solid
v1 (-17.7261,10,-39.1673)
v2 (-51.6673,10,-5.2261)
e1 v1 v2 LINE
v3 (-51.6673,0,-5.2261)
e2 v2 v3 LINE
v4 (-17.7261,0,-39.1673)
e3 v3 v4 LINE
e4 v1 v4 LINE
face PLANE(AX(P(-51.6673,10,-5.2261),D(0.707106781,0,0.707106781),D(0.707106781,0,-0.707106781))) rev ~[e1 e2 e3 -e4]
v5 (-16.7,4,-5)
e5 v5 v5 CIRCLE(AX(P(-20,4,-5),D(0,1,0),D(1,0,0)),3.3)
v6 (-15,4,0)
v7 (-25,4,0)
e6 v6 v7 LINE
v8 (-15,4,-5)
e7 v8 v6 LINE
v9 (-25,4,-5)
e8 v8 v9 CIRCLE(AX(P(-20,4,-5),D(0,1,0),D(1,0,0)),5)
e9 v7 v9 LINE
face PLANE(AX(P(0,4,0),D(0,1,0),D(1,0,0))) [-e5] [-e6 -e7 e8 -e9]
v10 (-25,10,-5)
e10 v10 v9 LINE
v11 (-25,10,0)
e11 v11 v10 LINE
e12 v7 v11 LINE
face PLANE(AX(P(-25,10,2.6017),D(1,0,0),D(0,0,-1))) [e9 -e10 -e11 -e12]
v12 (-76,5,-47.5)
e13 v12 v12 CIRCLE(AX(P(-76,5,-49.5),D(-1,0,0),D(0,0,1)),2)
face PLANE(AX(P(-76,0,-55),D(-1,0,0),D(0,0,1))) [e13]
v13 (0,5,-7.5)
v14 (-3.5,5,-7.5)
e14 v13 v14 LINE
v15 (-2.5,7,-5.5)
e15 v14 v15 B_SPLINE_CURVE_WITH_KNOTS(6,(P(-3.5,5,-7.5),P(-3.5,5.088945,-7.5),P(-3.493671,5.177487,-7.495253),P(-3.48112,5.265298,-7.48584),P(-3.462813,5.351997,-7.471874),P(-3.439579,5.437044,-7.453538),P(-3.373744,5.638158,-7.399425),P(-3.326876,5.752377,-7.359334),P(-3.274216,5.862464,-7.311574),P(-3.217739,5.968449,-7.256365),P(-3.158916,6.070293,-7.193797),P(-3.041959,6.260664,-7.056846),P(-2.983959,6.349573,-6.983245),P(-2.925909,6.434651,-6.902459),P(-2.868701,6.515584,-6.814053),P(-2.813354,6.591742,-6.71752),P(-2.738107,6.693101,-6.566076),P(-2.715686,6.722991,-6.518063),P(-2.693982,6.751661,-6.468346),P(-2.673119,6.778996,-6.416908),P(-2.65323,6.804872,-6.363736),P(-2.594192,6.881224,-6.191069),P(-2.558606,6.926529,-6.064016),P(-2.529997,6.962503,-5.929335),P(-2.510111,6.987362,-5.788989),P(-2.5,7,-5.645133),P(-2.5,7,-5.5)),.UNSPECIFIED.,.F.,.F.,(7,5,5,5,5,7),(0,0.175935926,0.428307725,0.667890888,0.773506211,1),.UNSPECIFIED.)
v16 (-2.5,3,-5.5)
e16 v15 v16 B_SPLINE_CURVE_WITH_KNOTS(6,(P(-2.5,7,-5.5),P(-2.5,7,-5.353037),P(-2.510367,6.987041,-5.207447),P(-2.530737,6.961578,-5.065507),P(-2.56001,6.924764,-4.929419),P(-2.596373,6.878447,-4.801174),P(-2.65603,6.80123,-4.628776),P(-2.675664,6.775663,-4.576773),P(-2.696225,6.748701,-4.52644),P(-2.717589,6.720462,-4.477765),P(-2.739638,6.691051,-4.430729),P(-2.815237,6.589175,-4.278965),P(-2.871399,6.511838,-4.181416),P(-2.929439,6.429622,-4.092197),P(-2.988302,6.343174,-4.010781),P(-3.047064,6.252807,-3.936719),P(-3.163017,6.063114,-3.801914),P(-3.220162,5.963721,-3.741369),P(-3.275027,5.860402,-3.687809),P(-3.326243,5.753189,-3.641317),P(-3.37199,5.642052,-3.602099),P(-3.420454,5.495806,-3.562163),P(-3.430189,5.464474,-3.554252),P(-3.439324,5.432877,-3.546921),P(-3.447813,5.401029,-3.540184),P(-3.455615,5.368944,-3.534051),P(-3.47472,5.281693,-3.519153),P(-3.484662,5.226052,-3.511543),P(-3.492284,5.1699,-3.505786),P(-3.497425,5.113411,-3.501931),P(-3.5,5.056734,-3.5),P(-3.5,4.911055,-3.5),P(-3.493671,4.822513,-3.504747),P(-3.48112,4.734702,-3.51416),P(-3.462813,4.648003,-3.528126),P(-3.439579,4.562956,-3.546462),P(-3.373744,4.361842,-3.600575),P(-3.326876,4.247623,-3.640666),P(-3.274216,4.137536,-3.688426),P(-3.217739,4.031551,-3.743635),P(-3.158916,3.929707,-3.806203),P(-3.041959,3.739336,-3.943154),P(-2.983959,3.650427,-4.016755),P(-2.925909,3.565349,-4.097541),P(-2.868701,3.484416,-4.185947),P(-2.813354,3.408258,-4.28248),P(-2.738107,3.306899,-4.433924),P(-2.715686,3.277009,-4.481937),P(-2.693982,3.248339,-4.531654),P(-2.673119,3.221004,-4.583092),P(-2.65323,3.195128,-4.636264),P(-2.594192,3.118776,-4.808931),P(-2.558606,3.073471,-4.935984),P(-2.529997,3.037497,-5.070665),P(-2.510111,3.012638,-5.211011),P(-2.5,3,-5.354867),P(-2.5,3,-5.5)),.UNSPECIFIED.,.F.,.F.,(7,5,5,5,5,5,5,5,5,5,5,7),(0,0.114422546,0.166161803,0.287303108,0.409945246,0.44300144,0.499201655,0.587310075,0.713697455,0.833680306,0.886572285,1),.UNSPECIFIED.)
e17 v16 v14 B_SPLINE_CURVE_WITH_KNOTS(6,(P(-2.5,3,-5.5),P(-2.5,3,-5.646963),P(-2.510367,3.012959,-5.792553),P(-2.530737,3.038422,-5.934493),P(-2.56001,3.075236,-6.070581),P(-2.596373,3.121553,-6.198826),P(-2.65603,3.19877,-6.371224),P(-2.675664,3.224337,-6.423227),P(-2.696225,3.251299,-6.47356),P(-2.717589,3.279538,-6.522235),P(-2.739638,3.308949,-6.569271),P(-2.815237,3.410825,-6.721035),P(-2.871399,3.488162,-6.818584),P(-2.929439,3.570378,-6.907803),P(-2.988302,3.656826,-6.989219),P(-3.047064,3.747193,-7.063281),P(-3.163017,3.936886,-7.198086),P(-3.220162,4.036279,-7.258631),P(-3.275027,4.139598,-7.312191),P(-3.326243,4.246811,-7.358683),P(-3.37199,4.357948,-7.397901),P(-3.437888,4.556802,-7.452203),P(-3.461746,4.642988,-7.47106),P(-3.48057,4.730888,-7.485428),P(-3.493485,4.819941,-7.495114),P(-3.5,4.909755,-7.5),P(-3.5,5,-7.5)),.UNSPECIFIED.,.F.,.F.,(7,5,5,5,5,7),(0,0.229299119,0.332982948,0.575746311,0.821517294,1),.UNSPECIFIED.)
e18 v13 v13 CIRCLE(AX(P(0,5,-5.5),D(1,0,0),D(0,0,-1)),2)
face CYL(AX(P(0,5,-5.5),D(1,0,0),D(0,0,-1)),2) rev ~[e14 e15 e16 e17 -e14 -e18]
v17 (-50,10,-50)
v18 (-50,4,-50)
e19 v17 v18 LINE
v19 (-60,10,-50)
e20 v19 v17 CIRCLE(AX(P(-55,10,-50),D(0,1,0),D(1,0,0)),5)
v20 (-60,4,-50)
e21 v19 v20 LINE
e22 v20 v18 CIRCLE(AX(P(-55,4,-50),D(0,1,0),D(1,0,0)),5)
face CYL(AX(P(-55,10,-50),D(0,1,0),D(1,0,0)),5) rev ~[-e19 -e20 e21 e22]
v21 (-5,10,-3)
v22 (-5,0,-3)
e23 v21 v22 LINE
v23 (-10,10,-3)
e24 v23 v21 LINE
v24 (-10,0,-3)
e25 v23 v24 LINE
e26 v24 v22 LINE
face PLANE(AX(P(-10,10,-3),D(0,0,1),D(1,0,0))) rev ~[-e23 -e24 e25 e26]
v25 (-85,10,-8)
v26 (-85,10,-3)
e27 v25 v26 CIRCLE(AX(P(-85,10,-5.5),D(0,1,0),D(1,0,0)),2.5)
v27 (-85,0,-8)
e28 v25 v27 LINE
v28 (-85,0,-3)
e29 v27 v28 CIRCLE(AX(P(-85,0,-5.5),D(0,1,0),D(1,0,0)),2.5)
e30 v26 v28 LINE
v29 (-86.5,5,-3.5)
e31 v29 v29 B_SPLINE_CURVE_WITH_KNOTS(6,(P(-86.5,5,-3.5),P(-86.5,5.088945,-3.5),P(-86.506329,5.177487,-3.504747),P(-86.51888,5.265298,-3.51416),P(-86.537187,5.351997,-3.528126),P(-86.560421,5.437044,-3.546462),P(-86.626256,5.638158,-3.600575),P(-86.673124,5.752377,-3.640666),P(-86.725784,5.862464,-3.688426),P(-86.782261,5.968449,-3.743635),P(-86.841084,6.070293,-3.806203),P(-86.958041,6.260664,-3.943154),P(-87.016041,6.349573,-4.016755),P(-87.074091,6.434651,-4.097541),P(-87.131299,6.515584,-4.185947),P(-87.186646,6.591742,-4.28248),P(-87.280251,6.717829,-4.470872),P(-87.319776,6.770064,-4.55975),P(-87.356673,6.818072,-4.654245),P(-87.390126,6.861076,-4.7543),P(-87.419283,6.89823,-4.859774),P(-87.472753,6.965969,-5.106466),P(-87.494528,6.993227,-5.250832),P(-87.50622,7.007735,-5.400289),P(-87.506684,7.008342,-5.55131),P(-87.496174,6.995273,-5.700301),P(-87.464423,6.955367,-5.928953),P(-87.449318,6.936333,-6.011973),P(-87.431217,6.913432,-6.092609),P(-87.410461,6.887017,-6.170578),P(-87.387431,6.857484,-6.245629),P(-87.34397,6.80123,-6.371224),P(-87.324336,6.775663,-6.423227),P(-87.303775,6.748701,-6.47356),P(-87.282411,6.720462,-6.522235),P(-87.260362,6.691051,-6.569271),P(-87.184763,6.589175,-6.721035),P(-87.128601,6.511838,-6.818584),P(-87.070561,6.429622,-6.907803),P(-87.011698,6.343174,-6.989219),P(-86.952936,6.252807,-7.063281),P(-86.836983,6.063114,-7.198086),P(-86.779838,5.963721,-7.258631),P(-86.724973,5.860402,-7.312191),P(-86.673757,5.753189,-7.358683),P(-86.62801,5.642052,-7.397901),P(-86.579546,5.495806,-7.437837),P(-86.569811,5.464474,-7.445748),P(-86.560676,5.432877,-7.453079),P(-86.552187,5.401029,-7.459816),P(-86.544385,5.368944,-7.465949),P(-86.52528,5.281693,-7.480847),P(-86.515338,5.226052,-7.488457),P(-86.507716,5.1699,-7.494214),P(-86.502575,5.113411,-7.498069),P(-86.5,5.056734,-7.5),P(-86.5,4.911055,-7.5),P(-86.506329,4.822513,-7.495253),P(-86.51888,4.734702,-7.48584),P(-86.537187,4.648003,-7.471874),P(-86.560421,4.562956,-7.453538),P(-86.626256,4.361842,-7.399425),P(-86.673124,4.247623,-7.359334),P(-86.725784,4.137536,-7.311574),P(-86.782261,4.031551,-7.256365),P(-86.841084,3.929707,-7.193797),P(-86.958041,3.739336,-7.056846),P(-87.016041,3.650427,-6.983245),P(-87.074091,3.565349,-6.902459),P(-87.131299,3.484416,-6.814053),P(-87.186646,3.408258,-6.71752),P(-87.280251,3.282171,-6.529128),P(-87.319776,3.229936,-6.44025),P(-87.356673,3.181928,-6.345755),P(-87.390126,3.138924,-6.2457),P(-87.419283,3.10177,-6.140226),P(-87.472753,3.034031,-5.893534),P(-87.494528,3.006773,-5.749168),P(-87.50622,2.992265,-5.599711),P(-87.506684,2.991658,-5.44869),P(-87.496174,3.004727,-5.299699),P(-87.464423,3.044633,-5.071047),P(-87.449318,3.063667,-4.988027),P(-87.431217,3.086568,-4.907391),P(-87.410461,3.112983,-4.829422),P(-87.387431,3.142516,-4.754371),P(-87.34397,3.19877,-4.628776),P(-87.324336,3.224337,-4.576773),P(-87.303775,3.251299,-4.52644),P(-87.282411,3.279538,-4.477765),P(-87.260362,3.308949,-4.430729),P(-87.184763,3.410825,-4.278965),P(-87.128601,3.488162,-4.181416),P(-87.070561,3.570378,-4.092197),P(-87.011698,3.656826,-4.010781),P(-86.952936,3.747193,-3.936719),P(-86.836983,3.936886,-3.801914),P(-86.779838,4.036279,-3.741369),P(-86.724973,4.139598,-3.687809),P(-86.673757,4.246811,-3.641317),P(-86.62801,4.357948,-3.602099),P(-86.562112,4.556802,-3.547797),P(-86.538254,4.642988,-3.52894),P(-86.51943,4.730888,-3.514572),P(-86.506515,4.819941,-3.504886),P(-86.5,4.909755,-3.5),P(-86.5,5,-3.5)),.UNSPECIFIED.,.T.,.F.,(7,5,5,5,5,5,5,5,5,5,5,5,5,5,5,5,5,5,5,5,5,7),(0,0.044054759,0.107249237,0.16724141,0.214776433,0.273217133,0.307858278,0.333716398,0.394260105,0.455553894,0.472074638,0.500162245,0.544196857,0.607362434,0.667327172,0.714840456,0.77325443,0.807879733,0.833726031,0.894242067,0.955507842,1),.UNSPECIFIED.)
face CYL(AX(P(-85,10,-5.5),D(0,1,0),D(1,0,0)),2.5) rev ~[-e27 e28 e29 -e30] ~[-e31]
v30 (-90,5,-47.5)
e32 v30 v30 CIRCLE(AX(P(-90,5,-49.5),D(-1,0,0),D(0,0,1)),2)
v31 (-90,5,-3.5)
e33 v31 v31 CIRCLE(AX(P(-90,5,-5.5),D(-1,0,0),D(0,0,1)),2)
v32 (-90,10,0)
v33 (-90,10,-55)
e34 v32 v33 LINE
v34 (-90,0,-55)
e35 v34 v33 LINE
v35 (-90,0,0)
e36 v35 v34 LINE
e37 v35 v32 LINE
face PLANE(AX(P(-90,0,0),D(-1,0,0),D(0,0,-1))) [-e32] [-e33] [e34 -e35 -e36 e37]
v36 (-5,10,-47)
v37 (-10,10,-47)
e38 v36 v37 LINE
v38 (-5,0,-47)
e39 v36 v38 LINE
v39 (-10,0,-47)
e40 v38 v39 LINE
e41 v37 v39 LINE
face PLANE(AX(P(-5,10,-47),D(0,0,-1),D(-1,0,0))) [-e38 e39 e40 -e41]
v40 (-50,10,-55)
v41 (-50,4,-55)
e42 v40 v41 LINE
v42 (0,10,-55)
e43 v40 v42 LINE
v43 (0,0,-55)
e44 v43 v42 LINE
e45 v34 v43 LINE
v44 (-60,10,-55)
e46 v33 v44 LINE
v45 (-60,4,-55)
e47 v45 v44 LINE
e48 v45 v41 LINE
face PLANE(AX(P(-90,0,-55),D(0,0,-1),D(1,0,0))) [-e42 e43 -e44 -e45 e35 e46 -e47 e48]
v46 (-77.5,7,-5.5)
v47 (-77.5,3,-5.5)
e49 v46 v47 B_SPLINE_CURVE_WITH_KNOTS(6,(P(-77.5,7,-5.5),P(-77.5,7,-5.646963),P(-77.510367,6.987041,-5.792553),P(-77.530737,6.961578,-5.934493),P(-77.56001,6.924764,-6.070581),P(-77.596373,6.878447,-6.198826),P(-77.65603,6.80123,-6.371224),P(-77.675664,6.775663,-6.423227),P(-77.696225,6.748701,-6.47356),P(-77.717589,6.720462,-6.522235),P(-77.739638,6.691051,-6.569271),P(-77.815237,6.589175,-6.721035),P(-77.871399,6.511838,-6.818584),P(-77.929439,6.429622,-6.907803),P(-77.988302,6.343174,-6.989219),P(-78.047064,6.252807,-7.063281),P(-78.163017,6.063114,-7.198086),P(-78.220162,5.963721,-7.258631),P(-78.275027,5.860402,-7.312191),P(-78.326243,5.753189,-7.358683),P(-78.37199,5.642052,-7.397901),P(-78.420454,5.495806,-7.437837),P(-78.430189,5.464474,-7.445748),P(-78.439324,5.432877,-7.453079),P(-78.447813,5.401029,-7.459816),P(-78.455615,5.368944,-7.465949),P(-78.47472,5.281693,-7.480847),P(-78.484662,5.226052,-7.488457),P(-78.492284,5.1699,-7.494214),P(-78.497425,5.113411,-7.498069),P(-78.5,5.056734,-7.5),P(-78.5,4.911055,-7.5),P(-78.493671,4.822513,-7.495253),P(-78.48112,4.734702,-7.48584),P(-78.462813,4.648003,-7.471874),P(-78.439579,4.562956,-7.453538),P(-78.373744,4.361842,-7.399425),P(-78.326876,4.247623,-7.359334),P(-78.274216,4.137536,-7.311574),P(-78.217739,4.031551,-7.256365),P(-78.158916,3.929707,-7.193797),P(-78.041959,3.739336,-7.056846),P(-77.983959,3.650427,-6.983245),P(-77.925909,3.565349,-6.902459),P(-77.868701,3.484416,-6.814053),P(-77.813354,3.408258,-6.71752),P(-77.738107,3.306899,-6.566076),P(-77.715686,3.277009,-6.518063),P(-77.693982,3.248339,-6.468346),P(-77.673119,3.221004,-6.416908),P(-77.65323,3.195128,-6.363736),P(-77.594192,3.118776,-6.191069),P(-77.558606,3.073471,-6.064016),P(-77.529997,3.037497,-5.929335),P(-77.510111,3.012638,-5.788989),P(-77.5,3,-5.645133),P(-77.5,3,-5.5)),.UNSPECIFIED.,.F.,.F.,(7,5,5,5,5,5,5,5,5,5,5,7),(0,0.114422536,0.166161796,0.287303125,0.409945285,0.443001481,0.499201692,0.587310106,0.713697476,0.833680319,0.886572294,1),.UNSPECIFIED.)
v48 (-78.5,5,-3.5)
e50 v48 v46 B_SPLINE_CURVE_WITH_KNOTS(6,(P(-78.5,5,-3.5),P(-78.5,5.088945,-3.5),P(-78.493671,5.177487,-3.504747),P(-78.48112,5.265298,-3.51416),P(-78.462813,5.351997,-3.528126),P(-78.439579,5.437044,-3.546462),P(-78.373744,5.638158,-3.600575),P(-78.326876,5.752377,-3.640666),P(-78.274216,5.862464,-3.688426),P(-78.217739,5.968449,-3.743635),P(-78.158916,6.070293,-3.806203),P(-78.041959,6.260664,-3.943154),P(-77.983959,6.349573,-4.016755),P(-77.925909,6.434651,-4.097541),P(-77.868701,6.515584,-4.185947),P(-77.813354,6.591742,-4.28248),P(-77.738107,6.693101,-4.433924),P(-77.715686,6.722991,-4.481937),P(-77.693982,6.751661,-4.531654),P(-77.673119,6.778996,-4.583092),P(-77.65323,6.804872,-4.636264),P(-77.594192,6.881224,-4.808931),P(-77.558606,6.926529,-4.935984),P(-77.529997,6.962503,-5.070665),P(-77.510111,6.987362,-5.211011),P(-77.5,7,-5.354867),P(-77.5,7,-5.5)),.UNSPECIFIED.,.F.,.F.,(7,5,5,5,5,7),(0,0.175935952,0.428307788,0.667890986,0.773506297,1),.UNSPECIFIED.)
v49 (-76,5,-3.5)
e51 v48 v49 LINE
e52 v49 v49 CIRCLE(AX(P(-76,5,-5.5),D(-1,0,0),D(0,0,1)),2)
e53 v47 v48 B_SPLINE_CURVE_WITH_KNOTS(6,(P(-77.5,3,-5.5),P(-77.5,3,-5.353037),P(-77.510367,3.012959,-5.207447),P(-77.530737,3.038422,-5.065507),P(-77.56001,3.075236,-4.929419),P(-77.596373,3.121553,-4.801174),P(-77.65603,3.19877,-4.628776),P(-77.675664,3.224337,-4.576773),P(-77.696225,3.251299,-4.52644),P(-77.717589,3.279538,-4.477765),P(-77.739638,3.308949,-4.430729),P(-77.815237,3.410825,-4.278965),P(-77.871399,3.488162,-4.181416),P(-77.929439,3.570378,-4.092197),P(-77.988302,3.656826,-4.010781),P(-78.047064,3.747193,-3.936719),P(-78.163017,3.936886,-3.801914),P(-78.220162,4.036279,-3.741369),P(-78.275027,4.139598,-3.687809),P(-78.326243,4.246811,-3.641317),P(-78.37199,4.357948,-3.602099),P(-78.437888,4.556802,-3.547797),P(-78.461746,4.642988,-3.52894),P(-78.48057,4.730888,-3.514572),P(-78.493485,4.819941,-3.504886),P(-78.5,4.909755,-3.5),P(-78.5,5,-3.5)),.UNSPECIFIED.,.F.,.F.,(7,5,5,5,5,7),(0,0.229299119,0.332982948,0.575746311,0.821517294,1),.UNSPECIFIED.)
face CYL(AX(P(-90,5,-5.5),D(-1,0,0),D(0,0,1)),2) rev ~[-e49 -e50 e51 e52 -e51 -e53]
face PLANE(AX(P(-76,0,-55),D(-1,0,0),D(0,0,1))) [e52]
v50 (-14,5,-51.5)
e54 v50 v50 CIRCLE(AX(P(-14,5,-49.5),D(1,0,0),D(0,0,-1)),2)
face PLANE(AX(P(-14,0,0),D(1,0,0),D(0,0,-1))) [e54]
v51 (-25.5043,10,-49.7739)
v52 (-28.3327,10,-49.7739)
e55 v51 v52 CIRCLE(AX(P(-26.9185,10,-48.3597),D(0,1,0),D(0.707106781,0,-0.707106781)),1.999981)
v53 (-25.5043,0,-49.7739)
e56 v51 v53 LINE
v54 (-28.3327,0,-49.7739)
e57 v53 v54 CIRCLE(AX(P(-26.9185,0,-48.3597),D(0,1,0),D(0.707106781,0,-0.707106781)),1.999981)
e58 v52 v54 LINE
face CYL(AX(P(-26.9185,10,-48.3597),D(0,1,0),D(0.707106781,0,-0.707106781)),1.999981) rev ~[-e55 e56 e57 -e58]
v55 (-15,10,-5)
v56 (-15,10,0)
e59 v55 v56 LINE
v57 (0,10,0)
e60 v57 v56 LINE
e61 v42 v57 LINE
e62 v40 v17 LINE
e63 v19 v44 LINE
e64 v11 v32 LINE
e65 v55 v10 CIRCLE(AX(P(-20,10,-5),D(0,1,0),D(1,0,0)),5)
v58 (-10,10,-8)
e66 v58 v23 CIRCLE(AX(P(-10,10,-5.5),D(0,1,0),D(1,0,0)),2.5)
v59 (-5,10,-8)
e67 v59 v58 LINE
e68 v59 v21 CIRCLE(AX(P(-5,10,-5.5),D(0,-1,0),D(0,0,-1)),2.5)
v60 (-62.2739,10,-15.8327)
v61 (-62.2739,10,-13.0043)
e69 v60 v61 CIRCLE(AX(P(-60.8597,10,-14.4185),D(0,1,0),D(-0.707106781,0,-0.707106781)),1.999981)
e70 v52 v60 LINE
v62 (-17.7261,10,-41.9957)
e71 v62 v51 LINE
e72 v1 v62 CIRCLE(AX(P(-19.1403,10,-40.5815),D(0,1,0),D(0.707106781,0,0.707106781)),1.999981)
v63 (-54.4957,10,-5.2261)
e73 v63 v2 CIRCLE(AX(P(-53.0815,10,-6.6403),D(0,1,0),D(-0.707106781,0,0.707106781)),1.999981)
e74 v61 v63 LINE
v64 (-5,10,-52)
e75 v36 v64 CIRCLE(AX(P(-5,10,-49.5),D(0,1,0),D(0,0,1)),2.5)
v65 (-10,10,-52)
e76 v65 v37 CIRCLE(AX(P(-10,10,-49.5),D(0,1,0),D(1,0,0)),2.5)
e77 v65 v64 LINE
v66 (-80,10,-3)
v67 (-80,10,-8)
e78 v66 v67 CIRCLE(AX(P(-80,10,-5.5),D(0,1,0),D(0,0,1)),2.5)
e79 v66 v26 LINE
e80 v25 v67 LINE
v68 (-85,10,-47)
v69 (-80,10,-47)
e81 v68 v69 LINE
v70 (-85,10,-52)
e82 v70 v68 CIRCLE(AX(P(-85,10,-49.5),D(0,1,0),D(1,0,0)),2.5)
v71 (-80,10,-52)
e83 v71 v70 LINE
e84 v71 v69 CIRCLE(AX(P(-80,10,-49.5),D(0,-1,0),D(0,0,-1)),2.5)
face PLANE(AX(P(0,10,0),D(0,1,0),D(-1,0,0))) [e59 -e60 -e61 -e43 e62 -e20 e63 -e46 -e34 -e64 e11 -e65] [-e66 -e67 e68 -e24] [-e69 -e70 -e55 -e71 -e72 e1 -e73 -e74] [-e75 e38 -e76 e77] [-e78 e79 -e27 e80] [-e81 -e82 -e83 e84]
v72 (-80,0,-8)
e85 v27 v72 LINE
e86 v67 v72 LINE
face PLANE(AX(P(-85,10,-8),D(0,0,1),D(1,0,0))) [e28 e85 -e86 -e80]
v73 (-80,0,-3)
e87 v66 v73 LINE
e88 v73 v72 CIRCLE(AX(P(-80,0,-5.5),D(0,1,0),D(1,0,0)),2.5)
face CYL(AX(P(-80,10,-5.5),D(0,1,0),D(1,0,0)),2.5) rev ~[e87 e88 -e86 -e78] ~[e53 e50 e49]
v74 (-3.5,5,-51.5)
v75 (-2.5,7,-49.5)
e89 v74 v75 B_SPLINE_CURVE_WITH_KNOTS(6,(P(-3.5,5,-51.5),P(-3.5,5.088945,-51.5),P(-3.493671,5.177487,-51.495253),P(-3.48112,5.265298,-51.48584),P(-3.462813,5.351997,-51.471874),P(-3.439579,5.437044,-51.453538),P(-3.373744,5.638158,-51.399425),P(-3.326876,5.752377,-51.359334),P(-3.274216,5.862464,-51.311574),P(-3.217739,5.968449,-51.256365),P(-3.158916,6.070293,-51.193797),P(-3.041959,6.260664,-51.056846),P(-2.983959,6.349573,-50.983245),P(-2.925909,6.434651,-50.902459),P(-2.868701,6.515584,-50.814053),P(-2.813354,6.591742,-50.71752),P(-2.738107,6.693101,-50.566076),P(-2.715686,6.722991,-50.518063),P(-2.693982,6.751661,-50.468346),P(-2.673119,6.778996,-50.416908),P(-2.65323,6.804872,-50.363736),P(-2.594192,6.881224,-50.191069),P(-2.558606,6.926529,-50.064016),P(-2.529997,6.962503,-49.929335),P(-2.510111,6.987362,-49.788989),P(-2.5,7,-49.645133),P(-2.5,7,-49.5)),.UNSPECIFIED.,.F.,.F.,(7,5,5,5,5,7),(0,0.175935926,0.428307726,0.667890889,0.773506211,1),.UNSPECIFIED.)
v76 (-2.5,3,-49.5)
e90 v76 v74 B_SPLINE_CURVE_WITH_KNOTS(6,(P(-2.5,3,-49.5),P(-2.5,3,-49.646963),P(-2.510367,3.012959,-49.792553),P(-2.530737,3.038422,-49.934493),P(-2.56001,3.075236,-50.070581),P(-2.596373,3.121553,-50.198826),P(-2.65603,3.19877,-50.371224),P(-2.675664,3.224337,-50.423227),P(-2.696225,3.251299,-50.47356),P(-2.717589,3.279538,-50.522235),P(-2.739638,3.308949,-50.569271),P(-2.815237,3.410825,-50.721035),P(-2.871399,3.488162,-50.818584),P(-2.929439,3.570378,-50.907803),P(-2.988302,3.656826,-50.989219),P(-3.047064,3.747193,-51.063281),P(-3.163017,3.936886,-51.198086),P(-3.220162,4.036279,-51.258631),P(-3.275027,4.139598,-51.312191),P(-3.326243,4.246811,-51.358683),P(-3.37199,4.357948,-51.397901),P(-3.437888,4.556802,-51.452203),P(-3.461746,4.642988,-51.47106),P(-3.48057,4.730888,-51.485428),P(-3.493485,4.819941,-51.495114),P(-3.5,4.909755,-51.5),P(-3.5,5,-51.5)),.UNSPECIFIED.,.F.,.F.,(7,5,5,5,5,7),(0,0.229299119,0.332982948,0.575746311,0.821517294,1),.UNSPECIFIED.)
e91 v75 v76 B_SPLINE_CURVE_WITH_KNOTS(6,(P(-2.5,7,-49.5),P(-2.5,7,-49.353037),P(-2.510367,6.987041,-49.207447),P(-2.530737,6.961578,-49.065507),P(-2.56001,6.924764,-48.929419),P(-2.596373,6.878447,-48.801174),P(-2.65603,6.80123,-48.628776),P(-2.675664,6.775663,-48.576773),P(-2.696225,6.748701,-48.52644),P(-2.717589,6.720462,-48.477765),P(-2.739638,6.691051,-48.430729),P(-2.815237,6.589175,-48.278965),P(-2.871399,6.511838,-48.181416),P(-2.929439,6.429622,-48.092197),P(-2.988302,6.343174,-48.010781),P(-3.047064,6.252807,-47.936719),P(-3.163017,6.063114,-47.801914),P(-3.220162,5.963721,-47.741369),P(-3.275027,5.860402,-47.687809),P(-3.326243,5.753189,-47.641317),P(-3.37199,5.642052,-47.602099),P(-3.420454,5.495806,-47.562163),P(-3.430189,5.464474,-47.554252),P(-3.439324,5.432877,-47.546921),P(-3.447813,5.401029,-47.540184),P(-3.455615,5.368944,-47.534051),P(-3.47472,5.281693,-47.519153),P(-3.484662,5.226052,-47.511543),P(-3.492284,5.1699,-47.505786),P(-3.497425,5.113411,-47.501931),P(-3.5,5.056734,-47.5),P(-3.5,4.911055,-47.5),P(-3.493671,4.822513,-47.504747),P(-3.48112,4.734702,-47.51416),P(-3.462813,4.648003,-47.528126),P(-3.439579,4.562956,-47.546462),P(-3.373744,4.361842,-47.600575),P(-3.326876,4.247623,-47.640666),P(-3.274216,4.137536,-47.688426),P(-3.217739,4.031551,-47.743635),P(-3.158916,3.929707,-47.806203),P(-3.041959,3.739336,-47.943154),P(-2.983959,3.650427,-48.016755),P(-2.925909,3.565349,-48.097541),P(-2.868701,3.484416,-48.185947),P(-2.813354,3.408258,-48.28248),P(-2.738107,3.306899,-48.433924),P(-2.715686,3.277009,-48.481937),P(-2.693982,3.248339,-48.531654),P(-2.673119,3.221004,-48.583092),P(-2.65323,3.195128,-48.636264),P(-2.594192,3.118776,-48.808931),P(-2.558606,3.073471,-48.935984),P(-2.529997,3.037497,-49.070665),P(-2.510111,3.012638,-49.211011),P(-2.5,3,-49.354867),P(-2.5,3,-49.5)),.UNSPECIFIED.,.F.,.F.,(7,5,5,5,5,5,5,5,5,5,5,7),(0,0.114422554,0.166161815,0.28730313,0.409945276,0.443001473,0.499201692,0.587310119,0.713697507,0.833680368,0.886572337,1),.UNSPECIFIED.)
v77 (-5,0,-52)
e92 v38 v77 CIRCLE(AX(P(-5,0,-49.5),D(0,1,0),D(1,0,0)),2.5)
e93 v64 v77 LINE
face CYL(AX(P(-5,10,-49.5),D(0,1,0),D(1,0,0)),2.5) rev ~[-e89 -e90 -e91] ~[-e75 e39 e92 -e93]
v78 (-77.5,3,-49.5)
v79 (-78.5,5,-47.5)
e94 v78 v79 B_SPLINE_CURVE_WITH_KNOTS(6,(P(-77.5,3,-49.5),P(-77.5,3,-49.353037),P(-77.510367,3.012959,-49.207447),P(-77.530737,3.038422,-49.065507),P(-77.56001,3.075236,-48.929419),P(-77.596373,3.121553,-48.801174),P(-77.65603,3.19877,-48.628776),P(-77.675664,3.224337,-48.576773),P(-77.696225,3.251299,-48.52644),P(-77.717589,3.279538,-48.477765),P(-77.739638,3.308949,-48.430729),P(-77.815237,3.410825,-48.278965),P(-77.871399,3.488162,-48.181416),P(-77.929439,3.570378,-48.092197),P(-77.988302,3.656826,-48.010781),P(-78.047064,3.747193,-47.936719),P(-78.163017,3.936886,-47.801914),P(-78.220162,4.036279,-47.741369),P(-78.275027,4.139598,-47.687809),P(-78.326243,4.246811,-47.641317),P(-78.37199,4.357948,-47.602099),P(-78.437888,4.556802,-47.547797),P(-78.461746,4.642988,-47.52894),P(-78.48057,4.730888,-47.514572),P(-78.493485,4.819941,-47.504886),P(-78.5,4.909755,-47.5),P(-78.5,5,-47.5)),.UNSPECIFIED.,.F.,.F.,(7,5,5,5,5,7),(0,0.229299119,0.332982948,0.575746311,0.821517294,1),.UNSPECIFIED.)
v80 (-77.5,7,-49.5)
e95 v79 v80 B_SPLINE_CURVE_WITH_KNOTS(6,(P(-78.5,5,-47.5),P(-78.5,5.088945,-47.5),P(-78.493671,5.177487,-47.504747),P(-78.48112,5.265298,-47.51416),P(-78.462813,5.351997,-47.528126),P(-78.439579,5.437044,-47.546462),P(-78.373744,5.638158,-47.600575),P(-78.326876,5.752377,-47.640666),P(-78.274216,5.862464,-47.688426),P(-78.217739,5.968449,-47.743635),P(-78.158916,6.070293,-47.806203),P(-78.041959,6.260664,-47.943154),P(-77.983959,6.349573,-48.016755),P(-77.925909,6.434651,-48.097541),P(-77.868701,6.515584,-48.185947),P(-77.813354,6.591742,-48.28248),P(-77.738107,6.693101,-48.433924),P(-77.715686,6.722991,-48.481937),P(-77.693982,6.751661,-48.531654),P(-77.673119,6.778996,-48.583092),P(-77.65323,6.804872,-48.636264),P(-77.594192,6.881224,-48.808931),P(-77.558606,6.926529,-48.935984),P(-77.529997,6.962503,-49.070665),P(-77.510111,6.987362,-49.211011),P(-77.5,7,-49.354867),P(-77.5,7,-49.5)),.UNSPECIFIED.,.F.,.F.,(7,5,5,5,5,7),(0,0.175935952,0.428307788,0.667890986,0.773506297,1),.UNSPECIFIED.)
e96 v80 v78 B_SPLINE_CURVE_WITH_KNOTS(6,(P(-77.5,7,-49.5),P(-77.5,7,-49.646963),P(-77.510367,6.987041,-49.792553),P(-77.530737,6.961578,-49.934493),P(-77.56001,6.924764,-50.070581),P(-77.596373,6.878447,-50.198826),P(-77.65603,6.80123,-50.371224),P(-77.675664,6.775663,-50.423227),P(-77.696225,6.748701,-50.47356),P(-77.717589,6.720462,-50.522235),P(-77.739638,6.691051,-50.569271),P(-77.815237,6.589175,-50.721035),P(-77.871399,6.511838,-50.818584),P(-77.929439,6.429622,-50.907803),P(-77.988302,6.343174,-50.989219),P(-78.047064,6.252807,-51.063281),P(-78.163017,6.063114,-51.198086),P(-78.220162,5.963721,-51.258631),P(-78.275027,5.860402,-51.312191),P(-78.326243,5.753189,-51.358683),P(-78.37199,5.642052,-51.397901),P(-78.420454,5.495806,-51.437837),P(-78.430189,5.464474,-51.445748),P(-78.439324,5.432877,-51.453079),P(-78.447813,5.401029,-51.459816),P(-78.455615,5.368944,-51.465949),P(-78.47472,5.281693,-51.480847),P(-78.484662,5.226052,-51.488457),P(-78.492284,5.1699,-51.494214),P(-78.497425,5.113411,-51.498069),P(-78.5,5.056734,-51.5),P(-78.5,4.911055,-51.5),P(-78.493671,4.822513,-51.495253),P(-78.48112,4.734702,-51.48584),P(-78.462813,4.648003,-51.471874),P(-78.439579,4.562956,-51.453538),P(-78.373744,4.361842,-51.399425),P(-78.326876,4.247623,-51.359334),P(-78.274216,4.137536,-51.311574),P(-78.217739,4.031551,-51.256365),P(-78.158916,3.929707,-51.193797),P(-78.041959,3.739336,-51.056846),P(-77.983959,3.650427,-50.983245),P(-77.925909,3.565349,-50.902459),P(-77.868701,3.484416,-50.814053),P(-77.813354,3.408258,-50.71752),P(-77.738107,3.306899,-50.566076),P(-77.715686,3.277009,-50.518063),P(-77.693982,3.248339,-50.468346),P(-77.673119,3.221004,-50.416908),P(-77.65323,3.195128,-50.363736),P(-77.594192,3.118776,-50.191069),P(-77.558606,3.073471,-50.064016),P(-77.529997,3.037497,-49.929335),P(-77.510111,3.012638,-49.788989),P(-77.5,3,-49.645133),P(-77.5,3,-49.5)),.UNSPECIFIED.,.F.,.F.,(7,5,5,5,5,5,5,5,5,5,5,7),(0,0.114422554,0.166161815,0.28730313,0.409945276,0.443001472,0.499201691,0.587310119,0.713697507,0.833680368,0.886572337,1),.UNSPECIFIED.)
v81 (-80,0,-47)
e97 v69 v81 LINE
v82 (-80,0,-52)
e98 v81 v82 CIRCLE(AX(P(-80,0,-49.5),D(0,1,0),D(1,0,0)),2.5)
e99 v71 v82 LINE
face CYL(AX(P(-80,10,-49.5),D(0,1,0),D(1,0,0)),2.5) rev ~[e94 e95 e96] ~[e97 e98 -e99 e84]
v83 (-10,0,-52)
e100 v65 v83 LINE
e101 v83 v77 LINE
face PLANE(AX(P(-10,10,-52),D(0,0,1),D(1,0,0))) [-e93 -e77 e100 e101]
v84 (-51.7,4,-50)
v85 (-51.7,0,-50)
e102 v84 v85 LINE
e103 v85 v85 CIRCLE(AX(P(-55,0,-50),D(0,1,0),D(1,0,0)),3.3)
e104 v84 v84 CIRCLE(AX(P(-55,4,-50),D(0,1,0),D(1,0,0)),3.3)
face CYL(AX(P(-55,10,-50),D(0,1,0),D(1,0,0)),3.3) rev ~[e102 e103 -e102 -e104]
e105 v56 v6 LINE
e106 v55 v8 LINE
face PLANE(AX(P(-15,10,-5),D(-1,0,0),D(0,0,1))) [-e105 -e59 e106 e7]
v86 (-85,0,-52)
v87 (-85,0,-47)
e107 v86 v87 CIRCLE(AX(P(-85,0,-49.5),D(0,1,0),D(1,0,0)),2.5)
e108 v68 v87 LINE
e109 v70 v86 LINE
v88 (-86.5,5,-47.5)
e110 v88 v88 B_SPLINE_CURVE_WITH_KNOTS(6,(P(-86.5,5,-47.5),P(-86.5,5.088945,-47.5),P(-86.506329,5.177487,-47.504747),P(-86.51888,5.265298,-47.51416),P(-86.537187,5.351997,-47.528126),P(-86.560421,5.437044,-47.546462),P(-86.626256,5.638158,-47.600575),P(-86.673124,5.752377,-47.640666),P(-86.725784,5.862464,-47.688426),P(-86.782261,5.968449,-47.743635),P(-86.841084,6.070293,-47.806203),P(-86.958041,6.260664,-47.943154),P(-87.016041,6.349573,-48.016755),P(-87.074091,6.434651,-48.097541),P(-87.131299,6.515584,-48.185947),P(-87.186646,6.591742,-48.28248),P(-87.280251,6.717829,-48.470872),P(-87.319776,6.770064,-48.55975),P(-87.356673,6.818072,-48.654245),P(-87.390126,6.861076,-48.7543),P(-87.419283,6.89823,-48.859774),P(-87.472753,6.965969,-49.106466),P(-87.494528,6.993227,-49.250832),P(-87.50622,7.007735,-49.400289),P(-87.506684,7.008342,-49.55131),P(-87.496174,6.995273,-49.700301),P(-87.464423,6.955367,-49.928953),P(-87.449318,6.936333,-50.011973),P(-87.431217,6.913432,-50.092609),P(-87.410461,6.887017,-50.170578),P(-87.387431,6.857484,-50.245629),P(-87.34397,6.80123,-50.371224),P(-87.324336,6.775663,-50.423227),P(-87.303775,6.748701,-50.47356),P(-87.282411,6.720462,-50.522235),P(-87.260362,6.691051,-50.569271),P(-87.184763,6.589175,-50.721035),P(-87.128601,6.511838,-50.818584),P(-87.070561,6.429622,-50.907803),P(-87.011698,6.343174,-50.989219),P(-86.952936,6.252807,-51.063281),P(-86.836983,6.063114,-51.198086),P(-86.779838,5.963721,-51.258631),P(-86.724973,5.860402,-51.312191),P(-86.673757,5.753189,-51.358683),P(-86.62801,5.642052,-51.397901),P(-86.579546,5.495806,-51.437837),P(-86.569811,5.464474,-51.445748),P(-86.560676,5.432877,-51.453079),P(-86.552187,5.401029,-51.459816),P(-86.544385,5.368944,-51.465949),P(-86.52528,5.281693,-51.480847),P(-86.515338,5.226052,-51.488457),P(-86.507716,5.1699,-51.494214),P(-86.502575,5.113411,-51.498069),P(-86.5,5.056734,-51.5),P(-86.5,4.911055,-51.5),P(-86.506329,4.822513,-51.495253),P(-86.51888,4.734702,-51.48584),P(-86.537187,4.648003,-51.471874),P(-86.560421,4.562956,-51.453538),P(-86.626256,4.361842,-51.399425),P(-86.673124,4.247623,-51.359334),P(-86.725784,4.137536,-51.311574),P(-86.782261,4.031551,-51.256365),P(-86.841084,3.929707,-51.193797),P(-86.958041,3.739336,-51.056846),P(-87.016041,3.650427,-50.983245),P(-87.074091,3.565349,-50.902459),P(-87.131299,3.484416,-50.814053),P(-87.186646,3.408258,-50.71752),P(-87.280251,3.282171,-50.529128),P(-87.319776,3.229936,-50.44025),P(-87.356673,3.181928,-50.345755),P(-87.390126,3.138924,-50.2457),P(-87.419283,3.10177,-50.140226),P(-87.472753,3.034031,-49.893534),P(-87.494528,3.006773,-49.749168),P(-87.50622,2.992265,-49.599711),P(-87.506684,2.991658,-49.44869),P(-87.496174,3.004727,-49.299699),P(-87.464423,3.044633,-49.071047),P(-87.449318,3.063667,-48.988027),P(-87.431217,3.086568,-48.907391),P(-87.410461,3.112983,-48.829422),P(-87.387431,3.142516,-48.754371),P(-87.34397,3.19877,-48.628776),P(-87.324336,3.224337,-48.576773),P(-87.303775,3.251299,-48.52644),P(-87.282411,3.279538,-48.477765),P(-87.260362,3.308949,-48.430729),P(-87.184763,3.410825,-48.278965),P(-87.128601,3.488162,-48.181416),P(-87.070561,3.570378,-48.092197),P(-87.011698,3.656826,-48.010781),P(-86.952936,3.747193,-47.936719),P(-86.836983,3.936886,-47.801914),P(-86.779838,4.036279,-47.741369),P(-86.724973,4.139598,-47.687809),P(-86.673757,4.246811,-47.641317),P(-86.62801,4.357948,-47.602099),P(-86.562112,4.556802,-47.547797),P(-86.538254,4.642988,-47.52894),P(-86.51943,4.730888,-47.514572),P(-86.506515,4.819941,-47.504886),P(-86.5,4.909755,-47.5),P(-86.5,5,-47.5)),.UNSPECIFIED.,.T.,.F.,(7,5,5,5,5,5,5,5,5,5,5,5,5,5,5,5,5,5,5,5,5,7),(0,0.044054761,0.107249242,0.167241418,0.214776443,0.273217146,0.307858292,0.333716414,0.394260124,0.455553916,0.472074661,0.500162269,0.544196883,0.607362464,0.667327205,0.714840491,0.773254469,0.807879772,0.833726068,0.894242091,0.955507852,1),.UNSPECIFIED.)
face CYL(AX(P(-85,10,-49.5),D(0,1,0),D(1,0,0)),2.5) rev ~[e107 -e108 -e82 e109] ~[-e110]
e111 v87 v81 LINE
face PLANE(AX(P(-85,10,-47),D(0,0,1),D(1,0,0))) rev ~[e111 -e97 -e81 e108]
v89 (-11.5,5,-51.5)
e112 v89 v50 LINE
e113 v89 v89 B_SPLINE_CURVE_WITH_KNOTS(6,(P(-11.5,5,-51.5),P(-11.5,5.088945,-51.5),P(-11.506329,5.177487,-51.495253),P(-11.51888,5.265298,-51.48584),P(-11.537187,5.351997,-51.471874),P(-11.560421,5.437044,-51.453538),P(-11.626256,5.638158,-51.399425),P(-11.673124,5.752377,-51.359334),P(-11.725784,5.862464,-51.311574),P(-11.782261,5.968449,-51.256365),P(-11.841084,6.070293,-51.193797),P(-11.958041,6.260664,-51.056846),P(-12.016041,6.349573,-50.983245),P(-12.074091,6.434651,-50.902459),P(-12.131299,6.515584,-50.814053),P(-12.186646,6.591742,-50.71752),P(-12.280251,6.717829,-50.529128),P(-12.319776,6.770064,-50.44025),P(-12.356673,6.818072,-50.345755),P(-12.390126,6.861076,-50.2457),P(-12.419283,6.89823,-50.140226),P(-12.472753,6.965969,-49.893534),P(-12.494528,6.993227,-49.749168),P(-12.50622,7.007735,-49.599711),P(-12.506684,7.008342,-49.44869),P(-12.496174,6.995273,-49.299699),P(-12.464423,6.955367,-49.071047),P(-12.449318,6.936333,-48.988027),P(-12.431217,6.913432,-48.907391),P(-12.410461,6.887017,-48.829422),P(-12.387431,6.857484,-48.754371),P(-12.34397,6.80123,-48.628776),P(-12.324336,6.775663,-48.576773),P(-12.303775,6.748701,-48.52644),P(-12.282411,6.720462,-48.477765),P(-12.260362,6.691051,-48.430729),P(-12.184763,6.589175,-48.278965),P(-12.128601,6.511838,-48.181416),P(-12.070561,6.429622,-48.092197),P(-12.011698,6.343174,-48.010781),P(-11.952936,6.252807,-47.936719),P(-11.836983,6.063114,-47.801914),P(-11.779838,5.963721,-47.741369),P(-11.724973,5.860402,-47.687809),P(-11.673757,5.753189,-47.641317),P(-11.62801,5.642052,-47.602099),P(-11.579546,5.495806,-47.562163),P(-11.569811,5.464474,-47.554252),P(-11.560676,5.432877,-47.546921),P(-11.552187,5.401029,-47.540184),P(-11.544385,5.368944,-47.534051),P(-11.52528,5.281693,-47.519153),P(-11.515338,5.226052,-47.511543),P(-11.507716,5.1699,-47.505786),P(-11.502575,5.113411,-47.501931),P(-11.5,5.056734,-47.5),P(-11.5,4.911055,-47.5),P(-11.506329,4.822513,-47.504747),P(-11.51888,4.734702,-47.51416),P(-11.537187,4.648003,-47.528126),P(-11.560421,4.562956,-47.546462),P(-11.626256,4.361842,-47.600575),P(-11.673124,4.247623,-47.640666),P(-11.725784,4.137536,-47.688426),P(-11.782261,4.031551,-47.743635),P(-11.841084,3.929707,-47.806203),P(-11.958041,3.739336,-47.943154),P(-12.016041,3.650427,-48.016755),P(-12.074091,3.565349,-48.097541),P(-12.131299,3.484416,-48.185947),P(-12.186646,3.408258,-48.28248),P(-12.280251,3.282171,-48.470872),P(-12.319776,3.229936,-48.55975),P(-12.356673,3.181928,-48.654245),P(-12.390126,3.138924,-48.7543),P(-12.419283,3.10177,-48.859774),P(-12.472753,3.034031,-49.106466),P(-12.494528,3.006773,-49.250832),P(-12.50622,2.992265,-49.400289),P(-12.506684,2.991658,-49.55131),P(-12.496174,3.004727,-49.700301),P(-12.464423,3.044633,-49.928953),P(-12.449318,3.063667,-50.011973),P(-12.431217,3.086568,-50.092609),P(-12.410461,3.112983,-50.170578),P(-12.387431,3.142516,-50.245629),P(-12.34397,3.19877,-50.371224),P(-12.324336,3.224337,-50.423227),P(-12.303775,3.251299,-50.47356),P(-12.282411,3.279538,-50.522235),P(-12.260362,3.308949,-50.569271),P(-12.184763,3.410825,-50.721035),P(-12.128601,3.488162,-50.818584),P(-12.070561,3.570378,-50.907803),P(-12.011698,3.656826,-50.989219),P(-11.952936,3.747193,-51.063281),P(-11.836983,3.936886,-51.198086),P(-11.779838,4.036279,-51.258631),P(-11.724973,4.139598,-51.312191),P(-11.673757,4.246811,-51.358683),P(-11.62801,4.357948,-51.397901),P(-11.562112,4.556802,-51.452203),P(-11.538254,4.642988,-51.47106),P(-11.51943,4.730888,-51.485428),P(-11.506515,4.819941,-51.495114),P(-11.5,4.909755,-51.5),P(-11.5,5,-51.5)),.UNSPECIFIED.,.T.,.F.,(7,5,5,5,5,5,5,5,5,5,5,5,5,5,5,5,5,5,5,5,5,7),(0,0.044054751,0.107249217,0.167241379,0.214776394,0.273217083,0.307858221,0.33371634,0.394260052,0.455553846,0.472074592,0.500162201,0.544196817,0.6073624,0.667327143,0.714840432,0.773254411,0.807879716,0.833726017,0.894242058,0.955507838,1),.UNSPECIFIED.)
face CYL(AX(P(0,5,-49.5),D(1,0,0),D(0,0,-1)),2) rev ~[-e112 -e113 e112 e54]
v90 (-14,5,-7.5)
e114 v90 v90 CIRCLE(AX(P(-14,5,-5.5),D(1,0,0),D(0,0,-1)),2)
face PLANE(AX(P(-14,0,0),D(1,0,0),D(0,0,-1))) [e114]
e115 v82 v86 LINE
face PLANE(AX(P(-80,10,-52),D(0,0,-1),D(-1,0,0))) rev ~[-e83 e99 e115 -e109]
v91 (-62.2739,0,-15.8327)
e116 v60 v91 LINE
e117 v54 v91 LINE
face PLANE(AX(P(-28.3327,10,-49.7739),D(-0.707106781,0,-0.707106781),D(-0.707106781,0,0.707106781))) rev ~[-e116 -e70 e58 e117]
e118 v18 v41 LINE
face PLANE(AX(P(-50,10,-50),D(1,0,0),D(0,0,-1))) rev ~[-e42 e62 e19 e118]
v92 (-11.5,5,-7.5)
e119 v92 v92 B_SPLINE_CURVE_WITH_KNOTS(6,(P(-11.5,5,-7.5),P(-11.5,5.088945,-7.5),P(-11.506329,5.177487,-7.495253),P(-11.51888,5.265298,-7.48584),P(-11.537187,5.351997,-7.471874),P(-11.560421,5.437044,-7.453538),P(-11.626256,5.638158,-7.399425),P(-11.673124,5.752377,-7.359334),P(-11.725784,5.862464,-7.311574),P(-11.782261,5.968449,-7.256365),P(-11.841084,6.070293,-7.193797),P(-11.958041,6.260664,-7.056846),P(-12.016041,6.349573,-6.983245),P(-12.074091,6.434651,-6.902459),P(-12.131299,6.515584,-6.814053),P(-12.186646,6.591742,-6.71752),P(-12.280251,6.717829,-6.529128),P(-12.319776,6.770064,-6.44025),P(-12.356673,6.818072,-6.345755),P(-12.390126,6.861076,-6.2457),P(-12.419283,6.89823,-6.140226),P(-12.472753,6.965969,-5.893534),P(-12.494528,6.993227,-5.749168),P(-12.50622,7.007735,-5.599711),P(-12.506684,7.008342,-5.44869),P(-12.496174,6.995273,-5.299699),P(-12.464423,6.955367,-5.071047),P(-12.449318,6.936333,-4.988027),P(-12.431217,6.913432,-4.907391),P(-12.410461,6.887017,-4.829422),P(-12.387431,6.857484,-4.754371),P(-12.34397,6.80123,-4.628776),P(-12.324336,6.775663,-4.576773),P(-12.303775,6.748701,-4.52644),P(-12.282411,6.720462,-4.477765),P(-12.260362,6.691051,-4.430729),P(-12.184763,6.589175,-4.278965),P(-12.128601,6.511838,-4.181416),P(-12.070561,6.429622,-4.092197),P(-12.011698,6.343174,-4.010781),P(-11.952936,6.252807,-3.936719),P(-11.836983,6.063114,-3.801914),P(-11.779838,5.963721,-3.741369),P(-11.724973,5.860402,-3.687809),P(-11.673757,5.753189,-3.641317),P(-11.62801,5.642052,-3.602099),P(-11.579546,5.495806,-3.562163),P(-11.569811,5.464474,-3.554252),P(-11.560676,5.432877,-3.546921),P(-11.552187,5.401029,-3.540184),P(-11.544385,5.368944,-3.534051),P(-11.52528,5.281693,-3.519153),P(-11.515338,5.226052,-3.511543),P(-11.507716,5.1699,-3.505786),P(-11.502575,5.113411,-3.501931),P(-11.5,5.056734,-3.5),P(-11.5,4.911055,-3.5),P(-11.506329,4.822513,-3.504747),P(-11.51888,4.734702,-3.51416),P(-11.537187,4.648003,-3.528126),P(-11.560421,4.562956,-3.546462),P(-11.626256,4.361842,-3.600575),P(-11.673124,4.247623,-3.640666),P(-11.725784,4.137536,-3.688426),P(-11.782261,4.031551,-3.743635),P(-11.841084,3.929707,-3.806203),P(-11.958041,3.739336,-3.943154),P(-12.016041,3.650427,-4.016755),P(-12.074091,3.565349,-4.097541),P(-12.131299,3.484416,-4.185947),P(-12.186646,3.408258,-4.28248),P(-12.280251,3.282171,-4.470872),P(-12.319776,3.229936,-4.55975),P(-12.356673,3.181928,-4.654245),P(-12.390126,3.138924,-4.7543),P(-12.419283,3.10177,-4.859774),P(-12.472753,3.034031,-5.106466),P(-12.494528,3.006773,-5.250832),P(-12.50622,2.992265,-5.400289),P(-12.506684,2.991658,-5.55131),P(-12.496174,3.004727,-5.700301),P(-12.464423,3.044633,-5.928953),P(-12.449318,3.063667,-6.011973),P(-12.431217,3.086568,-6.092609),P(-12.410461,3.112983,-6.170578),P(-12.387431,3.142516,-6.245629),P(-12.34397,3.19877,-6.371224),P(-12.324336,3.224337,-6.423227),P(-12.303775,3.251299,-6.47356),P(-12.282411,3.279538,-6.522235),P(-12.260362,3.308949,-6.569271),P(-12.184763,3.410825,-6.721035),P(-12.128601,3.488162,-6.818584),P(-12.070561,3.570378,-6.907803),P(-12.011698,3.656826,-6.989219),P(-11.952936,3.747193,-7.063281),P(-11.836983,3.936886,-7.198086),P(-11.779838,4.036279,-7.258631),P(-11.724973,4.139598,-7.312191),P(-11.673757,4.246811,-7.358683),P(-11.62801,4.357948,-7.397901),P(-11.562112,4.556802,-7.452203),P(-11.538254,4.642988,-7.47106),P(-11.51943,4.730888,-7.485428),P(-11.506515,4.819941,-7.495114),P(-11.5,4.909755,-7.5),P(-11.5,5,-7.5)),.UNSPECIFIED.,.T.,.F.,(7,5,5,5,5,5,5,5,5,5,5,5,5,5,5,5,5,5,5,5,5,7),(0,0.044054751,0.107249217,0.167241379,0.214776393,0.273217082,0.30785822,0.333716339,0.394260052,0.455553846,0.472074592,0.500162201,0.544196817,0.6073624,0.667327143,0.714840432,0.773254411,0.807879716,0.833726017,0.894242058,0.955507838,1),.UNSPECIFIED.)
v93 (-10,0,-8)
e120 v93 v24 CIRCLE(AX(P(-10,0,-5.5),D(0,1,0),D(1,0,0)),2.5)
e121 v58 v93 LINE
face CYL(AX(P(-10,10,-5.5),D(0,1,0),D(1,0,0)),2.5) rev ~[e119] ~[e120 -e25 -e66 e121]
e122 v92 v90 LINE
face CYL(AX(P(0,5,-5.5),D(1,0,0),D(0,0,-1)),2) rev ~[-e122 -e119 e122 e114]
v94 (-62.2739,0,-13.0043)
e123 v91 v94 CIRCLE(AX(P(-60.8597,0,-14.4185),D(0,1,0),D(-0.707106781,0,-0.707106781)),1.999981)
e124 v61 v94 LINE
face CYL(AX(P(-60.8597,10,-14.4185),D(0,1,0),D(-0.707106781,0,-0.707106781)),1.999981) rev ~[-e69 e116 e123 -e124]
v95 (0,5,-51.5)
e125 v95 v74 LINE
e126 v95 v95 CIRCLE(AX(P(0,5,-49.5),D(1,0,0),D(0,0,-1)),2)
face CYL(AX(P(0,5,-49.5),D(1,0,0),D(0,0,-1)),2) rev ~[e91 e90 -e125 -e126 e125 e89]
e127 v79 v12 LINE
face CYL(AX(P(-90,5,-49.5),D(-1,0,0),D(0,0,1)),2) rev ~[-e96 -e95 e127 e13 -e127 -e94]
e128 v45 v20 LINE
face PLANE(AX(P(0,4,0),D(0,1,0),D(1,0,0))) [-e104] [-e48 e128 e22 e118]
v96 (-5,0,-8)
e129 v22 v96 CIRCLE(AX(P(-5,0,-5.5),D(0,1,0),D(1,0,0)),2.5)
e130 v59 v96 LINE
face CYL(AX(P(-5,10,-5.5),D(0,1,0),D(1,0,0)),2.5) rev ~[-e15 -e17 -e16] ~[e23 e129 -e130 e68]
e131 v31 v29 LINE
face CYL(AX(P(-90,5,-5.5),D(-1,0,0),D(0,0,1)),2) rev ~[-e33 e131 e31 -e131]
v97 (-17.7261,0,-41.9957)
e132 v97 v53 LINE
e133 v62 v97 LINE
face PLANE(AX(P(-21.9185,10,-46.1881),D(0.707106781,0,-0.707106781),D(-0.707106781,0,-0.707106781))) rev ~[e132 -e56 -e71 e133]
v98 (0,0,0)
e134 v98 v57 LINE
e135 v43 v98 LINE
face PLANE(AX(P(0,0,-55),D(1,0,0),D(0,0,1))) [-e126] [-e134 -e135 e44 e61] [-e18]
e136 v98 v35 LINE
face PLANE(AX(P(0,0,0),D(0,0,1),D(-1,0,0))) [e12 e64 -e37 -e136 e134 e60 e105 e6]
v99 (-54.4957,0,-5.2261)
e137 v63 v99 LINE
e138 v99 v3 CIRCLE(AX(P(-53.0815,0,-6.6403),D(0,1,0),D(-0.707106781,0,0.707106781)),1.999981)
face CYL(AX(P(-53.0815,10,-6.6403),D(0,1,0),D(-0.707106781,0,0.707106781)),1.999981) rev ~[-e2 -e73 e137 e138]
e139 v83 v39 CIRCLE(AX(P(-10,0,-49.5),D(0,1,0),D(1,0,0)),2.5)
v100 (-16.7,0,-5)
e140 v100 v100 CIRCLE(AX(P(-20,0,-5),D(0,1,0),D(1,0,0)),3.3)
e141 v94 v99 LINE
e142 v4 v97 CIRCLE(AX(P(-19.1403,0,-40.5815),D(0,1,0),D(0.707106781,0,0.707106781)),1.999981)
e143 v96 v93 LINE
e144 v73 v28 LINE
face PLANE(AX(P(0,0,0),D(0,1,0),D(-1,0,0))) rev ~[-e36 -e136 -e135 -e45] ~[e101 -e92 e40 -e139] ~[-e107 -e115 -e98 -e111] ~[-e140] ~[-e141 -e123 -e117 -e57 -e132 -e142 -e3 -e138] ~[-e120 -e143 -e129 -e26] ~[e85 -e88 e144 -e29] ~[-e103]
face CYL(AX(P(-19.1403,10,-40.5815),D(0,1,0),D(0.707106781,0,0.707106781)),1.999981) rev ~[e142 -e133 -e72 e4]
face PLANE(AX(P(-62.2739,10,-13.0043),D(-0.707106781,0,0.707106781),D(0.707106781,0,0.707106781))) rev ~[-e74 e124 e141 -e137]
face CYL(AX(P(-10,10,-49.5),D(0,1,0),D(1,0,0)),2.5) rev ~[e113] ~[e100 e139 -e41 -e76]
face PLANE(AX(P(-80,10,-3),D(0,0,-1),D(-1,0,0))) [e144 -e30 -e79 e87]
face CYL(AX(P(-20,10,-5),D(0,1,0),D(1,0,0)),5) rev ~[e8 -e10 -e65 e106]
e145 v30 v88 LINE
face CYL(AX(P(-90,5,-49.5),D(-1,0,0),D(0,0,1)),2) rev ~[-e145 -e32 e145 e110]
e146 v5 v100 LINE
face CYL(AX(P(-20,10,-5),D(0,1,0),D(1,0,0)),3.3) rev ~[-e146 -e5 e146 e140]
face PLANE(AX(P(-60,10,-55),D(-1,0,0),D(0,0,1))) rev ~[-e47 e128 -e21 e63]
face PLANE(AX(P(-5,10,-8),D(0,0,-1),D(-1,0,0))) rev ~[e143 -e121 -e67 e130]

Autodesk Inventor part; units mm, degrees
ref_plane "YZ Plane" through (0, 0, 0) normal (1, 0, 0) x (0, 1, 0)
ref_plane "XZ Plane" through (0, 0, 0) normal (0, 1, 0) x (-1, 0, 0)
ref_plane "XY Plane" through (0, 0, 0) normal (0, 0, 1) x (1, 0, 0)
sketch "Sketch1" plane through (0, 0, 0) normal (0, 1, 0) x (-1, 0, 0)
  line L0 (0, 0) -> (90, 0)
  line L1 (90, 0) -> (90, -55)
  line L2 (90, -55) -> (0, -55)
  line L3 (0, -55) -> (0, 0)
  dimension "d0" = 55
  dimension "d1" = 90
extrude "Extrusion1" add sketch "Sketch1" along normal blind 10
sketch "Sketch3" plane through (0, 10, 0) normal (0, 1, 0) x (1, 0, 0)
  circle A0 centre (-20, 5) radius 3.3
  circle A1 centre (-55, 50) radius 3.3
  line L0 (-90, 0) -> (0, 0) projected
  line L1 (0, 55) -> (-90, 55) projected
  line L2 (0, 0) -> (0, 55) projected
  line L3 (-82.2074, 15) -> (-82.2074, 40) projected
  dimension "d4" = 5
  dimension "d5" = 5
  dimension "d6" = 20
  dimension "d7" = 82.2074
  dimension "d8" = 55
  dimension "d9" = 6.6
  dimension "d10" = 6.6
extrude "Extrusion2" cut sketch "Sketch3" against normal through all
sketch "Sketch4" plane through (0, 10, 0) normal (0, 1, 0) x (1, 0, 0)
  circle A0 centre (-20, 5) radius 3.3 projected
  circle A1 centre (-20, 5) radius 5
  line L0 (-15, 5) -> (-15, -2.6017)
  line L1 (-15, -2.6017) -> (-25, -2.6017)
  line L2 (-25, -2.6017) -> (-25, 5)
  circle A2 centre (-55, 50) radius 3.3 projected
  circle A3 centre (-55, 50) radius 5
  line L3 (0, 55) -> (-90, 55) projected
  line L4 (-50, 50) -> (-50, 57.7947)
  line L5 (-50, 57.7947) -> (-60, 57.7947)
  line L6 (-60, 57.7947) -> (-60, 50)
  point P0 (0, 0)
  dimension "d13" = 10
extrude "Extrusion3" cut sketch "Sketch4" against normal blind 6
sketch "Sketch5" plane through (0, 10, 0) normal (0, 1, 0) x (1, 0, 0)
  line L0 (-41.6673, 5.2261) -> (-7.7261, 39.1673) projected
  line L1 (-18.3327, 49.7739) -> (-52.2739, 15.8327) projected
  line L2 (-41.6673, 5.2261) -> (-7.7261, 39.1673) projected
  line L3 (-7.7261, 41.9957) -> (-15.5043, 49.7739) projected
  line L4 (-52.2739, 13.0043) -> (-44.4957, 5.2261) projected
  arc A0 (-52.2739, 15.8327) -> (-52.2739, 13.0043) centre (-50.8597, 14.4185) ccw projected
  line L5 (-25, 0) -> (-25, 5) projected
  arc A1 (-15, 5) -> (-25, 5) centre (-20, 5) ccw projected
  line L6 (-15, 5) -> (-15, 0) projected
  line L7 (-15, 0) -> (0, 0) projected
  line L8 (0, 0) -> (0, 55) projected
  line L9 (0, 55) -> (-50, 55) projected
  line L10 (-50, 55) -> (-50, 50) projected
  arc A2 (-60, 50) -> (-50, 50) centre (-55, 50) ccw projected
  line L11 (-60, 50) -> (-60, 55) projected
  line L12 (-60, 55) -> (-90, 55) projected
  line L13 (-90, 55) -> (-90, 0) projected
  line L14 (-90, 0) -> (-25, 0) projected
  arc A3 (-44.4957, 5.2261) -> (-41.6673, 5.2261) centre (-43.0815, 6.6403) ccw projected
  arc A4 (-15.5043, 49.7739) -> (-18.3327, 49.7739) centre (-16.9185, 48.3597) ccw projected
  arc A5 (-7.7261, 39.1673) -> (-7.7261, 41.9957) centre (-9.1403, 40.5815) ccw projected
  arc A6 (-62.2739, 15.8327) -> (-62.2739, 13.0043) centre (-60.8597, 14.4185) ccw projected
  line L15 (-28.3327, 49.7739) -> (-62.2739, 15.8327) projected
  line L16 (-62.2739, 13.0043) -> (-54.4957, 5.2261) projected
  arc A7 (-54.4957, 5.2261) -> (-51.6673, 5.2261) centre (-53.0815, 6.6403) ccw projected
  line L17 (-51.6673, 5.2261) -> (-17.7261, 39.1673) projected
  line L18 (-17.7261, 41.9957) -> (-25.5043, 49.7739) projected
  arc A8 (-25.5043, 49.7739) -> (-28.3327, 49.7739) centre (-26.9185, 48.3597) ccw projected
  arc A9 (-17.7261, 39.1673) -> (-17.7261, 41.9957) centre (-19.1403, 40.5815) ccw projected
extrude "Extrusion4" cut sketch "Sketch5" against normal through all contours L17 A7 L16 A6 L15 A8 L18 L1 A0 L4 | L4 A0 L1 L18 A9 L17
sketch "Sketch6" plane through (0, 10, 0) normal (0, 1, 0) x (1, 0, 0)
  line L0 (0, 0) -> (0, 55) projected
  line L1 (0, 27.5) -> (-90, 27.5)
  line L2 (-90, 55) -> (-90, 0) projected
  line L3 (-45, 27.5) -> (-45, 42.4026)
  line L4 (-80, 52) -> (-85, 52)
  line L5 (-85, 52) -> (-85, 47)
  line L6 (-85, 47) -> (-80, 47)
  line L7 (-80, 47) -> (-80, 52)
  circle A0 centre (-80, 49.5) radius 2.5
  circle A1 centre (-85, 49.5) radius 2.5
  line L8 (-60, 55) -> (-90, 55) projected
  line L9 (-10, 52) -> (-5, 52)
  line L10 (-5, 52) -> (-5, 47)
  line L11 (-5, 47) -> (-10, 47)
  line L12 (-10, 47) -> (-10, 52)
  circle A2 centre (-10, 49.5) radius 2.5
  circle A3 centre (-5, 49.5) radius 2.5
  line L13 (-80, 3) -> (-85, 3)
  line L14 (-85, 3) -> (-85, 8)
  line L15 (-85, 8) -> (-80, 8)
  line L16 (-80, 8) -> (-80, 3)
  circle A4 centre (-80, 5.5) radius 2.5
  circle A5 centre (-85, 5.5) radius 2.5
  line L17 (-10, 3) -> (-5, 3)
  line L18 (-5, 3) -> (-5, 8)
  line L19 (-5, 8) -> (-10, 8)
  line L20 (-10, 8) -> (-10, 3)
  circle A6 centre (-10, 5.5) radius 2.5
  circle A7 centre (-5, 5.5) radius 2.5
  dimension "d22" = 5
  dimension "d18" = 5
  dimension "d19" = 5
  dimension "d20" = 3
  dimension "d21" = 5
extrude "Extrusion5" cut sketch "Sketch6" against normal through all
sketch "Sketch7" plane through (-90, 0, -55) normal (-1, 0, 0) x (0, 0, 1)
  circle A0 centre (5.5, 5) radius 2
  line L0 (0, 0) -> (0, 10) projected
  line L1 (0, 10) -> (55, 10) projected
  circle A1 centre (49.5, 5) radius 2
  line L2 (55, 0) -> (55, 10) projected
  dimension "d25" = 5.5
  dimension "d26" = 4
  dimension "d27" = 5
  dimension "d28" = 4
  dimension "d29" = 5.5
  dimension "d30" = 5
extrude "Extrusion6" cut sketch "Sketch7" against normal blind 14
sketch "Sketch8" plane through (0, 0, 0) normal (1, 0, 0) x (0, 0, -1)
  circle A0 centre (49.5, 5) radius 2 projected
  circle A1 centre (5.5, 5) radius 2 projected
  point P0 (0, 0)
extrude "Extrusion7" cut sketch "Sketch8" against normal blind 14
equation "\"d9\" = d10"
equation "\"d19\" = d22"
equation "\"d28\" = d26"
equation "\"d29\" = d25"
equation "\"d30\" = d27"
properties part number "SupportGuideCarotte" material "Aluminum 6061"
